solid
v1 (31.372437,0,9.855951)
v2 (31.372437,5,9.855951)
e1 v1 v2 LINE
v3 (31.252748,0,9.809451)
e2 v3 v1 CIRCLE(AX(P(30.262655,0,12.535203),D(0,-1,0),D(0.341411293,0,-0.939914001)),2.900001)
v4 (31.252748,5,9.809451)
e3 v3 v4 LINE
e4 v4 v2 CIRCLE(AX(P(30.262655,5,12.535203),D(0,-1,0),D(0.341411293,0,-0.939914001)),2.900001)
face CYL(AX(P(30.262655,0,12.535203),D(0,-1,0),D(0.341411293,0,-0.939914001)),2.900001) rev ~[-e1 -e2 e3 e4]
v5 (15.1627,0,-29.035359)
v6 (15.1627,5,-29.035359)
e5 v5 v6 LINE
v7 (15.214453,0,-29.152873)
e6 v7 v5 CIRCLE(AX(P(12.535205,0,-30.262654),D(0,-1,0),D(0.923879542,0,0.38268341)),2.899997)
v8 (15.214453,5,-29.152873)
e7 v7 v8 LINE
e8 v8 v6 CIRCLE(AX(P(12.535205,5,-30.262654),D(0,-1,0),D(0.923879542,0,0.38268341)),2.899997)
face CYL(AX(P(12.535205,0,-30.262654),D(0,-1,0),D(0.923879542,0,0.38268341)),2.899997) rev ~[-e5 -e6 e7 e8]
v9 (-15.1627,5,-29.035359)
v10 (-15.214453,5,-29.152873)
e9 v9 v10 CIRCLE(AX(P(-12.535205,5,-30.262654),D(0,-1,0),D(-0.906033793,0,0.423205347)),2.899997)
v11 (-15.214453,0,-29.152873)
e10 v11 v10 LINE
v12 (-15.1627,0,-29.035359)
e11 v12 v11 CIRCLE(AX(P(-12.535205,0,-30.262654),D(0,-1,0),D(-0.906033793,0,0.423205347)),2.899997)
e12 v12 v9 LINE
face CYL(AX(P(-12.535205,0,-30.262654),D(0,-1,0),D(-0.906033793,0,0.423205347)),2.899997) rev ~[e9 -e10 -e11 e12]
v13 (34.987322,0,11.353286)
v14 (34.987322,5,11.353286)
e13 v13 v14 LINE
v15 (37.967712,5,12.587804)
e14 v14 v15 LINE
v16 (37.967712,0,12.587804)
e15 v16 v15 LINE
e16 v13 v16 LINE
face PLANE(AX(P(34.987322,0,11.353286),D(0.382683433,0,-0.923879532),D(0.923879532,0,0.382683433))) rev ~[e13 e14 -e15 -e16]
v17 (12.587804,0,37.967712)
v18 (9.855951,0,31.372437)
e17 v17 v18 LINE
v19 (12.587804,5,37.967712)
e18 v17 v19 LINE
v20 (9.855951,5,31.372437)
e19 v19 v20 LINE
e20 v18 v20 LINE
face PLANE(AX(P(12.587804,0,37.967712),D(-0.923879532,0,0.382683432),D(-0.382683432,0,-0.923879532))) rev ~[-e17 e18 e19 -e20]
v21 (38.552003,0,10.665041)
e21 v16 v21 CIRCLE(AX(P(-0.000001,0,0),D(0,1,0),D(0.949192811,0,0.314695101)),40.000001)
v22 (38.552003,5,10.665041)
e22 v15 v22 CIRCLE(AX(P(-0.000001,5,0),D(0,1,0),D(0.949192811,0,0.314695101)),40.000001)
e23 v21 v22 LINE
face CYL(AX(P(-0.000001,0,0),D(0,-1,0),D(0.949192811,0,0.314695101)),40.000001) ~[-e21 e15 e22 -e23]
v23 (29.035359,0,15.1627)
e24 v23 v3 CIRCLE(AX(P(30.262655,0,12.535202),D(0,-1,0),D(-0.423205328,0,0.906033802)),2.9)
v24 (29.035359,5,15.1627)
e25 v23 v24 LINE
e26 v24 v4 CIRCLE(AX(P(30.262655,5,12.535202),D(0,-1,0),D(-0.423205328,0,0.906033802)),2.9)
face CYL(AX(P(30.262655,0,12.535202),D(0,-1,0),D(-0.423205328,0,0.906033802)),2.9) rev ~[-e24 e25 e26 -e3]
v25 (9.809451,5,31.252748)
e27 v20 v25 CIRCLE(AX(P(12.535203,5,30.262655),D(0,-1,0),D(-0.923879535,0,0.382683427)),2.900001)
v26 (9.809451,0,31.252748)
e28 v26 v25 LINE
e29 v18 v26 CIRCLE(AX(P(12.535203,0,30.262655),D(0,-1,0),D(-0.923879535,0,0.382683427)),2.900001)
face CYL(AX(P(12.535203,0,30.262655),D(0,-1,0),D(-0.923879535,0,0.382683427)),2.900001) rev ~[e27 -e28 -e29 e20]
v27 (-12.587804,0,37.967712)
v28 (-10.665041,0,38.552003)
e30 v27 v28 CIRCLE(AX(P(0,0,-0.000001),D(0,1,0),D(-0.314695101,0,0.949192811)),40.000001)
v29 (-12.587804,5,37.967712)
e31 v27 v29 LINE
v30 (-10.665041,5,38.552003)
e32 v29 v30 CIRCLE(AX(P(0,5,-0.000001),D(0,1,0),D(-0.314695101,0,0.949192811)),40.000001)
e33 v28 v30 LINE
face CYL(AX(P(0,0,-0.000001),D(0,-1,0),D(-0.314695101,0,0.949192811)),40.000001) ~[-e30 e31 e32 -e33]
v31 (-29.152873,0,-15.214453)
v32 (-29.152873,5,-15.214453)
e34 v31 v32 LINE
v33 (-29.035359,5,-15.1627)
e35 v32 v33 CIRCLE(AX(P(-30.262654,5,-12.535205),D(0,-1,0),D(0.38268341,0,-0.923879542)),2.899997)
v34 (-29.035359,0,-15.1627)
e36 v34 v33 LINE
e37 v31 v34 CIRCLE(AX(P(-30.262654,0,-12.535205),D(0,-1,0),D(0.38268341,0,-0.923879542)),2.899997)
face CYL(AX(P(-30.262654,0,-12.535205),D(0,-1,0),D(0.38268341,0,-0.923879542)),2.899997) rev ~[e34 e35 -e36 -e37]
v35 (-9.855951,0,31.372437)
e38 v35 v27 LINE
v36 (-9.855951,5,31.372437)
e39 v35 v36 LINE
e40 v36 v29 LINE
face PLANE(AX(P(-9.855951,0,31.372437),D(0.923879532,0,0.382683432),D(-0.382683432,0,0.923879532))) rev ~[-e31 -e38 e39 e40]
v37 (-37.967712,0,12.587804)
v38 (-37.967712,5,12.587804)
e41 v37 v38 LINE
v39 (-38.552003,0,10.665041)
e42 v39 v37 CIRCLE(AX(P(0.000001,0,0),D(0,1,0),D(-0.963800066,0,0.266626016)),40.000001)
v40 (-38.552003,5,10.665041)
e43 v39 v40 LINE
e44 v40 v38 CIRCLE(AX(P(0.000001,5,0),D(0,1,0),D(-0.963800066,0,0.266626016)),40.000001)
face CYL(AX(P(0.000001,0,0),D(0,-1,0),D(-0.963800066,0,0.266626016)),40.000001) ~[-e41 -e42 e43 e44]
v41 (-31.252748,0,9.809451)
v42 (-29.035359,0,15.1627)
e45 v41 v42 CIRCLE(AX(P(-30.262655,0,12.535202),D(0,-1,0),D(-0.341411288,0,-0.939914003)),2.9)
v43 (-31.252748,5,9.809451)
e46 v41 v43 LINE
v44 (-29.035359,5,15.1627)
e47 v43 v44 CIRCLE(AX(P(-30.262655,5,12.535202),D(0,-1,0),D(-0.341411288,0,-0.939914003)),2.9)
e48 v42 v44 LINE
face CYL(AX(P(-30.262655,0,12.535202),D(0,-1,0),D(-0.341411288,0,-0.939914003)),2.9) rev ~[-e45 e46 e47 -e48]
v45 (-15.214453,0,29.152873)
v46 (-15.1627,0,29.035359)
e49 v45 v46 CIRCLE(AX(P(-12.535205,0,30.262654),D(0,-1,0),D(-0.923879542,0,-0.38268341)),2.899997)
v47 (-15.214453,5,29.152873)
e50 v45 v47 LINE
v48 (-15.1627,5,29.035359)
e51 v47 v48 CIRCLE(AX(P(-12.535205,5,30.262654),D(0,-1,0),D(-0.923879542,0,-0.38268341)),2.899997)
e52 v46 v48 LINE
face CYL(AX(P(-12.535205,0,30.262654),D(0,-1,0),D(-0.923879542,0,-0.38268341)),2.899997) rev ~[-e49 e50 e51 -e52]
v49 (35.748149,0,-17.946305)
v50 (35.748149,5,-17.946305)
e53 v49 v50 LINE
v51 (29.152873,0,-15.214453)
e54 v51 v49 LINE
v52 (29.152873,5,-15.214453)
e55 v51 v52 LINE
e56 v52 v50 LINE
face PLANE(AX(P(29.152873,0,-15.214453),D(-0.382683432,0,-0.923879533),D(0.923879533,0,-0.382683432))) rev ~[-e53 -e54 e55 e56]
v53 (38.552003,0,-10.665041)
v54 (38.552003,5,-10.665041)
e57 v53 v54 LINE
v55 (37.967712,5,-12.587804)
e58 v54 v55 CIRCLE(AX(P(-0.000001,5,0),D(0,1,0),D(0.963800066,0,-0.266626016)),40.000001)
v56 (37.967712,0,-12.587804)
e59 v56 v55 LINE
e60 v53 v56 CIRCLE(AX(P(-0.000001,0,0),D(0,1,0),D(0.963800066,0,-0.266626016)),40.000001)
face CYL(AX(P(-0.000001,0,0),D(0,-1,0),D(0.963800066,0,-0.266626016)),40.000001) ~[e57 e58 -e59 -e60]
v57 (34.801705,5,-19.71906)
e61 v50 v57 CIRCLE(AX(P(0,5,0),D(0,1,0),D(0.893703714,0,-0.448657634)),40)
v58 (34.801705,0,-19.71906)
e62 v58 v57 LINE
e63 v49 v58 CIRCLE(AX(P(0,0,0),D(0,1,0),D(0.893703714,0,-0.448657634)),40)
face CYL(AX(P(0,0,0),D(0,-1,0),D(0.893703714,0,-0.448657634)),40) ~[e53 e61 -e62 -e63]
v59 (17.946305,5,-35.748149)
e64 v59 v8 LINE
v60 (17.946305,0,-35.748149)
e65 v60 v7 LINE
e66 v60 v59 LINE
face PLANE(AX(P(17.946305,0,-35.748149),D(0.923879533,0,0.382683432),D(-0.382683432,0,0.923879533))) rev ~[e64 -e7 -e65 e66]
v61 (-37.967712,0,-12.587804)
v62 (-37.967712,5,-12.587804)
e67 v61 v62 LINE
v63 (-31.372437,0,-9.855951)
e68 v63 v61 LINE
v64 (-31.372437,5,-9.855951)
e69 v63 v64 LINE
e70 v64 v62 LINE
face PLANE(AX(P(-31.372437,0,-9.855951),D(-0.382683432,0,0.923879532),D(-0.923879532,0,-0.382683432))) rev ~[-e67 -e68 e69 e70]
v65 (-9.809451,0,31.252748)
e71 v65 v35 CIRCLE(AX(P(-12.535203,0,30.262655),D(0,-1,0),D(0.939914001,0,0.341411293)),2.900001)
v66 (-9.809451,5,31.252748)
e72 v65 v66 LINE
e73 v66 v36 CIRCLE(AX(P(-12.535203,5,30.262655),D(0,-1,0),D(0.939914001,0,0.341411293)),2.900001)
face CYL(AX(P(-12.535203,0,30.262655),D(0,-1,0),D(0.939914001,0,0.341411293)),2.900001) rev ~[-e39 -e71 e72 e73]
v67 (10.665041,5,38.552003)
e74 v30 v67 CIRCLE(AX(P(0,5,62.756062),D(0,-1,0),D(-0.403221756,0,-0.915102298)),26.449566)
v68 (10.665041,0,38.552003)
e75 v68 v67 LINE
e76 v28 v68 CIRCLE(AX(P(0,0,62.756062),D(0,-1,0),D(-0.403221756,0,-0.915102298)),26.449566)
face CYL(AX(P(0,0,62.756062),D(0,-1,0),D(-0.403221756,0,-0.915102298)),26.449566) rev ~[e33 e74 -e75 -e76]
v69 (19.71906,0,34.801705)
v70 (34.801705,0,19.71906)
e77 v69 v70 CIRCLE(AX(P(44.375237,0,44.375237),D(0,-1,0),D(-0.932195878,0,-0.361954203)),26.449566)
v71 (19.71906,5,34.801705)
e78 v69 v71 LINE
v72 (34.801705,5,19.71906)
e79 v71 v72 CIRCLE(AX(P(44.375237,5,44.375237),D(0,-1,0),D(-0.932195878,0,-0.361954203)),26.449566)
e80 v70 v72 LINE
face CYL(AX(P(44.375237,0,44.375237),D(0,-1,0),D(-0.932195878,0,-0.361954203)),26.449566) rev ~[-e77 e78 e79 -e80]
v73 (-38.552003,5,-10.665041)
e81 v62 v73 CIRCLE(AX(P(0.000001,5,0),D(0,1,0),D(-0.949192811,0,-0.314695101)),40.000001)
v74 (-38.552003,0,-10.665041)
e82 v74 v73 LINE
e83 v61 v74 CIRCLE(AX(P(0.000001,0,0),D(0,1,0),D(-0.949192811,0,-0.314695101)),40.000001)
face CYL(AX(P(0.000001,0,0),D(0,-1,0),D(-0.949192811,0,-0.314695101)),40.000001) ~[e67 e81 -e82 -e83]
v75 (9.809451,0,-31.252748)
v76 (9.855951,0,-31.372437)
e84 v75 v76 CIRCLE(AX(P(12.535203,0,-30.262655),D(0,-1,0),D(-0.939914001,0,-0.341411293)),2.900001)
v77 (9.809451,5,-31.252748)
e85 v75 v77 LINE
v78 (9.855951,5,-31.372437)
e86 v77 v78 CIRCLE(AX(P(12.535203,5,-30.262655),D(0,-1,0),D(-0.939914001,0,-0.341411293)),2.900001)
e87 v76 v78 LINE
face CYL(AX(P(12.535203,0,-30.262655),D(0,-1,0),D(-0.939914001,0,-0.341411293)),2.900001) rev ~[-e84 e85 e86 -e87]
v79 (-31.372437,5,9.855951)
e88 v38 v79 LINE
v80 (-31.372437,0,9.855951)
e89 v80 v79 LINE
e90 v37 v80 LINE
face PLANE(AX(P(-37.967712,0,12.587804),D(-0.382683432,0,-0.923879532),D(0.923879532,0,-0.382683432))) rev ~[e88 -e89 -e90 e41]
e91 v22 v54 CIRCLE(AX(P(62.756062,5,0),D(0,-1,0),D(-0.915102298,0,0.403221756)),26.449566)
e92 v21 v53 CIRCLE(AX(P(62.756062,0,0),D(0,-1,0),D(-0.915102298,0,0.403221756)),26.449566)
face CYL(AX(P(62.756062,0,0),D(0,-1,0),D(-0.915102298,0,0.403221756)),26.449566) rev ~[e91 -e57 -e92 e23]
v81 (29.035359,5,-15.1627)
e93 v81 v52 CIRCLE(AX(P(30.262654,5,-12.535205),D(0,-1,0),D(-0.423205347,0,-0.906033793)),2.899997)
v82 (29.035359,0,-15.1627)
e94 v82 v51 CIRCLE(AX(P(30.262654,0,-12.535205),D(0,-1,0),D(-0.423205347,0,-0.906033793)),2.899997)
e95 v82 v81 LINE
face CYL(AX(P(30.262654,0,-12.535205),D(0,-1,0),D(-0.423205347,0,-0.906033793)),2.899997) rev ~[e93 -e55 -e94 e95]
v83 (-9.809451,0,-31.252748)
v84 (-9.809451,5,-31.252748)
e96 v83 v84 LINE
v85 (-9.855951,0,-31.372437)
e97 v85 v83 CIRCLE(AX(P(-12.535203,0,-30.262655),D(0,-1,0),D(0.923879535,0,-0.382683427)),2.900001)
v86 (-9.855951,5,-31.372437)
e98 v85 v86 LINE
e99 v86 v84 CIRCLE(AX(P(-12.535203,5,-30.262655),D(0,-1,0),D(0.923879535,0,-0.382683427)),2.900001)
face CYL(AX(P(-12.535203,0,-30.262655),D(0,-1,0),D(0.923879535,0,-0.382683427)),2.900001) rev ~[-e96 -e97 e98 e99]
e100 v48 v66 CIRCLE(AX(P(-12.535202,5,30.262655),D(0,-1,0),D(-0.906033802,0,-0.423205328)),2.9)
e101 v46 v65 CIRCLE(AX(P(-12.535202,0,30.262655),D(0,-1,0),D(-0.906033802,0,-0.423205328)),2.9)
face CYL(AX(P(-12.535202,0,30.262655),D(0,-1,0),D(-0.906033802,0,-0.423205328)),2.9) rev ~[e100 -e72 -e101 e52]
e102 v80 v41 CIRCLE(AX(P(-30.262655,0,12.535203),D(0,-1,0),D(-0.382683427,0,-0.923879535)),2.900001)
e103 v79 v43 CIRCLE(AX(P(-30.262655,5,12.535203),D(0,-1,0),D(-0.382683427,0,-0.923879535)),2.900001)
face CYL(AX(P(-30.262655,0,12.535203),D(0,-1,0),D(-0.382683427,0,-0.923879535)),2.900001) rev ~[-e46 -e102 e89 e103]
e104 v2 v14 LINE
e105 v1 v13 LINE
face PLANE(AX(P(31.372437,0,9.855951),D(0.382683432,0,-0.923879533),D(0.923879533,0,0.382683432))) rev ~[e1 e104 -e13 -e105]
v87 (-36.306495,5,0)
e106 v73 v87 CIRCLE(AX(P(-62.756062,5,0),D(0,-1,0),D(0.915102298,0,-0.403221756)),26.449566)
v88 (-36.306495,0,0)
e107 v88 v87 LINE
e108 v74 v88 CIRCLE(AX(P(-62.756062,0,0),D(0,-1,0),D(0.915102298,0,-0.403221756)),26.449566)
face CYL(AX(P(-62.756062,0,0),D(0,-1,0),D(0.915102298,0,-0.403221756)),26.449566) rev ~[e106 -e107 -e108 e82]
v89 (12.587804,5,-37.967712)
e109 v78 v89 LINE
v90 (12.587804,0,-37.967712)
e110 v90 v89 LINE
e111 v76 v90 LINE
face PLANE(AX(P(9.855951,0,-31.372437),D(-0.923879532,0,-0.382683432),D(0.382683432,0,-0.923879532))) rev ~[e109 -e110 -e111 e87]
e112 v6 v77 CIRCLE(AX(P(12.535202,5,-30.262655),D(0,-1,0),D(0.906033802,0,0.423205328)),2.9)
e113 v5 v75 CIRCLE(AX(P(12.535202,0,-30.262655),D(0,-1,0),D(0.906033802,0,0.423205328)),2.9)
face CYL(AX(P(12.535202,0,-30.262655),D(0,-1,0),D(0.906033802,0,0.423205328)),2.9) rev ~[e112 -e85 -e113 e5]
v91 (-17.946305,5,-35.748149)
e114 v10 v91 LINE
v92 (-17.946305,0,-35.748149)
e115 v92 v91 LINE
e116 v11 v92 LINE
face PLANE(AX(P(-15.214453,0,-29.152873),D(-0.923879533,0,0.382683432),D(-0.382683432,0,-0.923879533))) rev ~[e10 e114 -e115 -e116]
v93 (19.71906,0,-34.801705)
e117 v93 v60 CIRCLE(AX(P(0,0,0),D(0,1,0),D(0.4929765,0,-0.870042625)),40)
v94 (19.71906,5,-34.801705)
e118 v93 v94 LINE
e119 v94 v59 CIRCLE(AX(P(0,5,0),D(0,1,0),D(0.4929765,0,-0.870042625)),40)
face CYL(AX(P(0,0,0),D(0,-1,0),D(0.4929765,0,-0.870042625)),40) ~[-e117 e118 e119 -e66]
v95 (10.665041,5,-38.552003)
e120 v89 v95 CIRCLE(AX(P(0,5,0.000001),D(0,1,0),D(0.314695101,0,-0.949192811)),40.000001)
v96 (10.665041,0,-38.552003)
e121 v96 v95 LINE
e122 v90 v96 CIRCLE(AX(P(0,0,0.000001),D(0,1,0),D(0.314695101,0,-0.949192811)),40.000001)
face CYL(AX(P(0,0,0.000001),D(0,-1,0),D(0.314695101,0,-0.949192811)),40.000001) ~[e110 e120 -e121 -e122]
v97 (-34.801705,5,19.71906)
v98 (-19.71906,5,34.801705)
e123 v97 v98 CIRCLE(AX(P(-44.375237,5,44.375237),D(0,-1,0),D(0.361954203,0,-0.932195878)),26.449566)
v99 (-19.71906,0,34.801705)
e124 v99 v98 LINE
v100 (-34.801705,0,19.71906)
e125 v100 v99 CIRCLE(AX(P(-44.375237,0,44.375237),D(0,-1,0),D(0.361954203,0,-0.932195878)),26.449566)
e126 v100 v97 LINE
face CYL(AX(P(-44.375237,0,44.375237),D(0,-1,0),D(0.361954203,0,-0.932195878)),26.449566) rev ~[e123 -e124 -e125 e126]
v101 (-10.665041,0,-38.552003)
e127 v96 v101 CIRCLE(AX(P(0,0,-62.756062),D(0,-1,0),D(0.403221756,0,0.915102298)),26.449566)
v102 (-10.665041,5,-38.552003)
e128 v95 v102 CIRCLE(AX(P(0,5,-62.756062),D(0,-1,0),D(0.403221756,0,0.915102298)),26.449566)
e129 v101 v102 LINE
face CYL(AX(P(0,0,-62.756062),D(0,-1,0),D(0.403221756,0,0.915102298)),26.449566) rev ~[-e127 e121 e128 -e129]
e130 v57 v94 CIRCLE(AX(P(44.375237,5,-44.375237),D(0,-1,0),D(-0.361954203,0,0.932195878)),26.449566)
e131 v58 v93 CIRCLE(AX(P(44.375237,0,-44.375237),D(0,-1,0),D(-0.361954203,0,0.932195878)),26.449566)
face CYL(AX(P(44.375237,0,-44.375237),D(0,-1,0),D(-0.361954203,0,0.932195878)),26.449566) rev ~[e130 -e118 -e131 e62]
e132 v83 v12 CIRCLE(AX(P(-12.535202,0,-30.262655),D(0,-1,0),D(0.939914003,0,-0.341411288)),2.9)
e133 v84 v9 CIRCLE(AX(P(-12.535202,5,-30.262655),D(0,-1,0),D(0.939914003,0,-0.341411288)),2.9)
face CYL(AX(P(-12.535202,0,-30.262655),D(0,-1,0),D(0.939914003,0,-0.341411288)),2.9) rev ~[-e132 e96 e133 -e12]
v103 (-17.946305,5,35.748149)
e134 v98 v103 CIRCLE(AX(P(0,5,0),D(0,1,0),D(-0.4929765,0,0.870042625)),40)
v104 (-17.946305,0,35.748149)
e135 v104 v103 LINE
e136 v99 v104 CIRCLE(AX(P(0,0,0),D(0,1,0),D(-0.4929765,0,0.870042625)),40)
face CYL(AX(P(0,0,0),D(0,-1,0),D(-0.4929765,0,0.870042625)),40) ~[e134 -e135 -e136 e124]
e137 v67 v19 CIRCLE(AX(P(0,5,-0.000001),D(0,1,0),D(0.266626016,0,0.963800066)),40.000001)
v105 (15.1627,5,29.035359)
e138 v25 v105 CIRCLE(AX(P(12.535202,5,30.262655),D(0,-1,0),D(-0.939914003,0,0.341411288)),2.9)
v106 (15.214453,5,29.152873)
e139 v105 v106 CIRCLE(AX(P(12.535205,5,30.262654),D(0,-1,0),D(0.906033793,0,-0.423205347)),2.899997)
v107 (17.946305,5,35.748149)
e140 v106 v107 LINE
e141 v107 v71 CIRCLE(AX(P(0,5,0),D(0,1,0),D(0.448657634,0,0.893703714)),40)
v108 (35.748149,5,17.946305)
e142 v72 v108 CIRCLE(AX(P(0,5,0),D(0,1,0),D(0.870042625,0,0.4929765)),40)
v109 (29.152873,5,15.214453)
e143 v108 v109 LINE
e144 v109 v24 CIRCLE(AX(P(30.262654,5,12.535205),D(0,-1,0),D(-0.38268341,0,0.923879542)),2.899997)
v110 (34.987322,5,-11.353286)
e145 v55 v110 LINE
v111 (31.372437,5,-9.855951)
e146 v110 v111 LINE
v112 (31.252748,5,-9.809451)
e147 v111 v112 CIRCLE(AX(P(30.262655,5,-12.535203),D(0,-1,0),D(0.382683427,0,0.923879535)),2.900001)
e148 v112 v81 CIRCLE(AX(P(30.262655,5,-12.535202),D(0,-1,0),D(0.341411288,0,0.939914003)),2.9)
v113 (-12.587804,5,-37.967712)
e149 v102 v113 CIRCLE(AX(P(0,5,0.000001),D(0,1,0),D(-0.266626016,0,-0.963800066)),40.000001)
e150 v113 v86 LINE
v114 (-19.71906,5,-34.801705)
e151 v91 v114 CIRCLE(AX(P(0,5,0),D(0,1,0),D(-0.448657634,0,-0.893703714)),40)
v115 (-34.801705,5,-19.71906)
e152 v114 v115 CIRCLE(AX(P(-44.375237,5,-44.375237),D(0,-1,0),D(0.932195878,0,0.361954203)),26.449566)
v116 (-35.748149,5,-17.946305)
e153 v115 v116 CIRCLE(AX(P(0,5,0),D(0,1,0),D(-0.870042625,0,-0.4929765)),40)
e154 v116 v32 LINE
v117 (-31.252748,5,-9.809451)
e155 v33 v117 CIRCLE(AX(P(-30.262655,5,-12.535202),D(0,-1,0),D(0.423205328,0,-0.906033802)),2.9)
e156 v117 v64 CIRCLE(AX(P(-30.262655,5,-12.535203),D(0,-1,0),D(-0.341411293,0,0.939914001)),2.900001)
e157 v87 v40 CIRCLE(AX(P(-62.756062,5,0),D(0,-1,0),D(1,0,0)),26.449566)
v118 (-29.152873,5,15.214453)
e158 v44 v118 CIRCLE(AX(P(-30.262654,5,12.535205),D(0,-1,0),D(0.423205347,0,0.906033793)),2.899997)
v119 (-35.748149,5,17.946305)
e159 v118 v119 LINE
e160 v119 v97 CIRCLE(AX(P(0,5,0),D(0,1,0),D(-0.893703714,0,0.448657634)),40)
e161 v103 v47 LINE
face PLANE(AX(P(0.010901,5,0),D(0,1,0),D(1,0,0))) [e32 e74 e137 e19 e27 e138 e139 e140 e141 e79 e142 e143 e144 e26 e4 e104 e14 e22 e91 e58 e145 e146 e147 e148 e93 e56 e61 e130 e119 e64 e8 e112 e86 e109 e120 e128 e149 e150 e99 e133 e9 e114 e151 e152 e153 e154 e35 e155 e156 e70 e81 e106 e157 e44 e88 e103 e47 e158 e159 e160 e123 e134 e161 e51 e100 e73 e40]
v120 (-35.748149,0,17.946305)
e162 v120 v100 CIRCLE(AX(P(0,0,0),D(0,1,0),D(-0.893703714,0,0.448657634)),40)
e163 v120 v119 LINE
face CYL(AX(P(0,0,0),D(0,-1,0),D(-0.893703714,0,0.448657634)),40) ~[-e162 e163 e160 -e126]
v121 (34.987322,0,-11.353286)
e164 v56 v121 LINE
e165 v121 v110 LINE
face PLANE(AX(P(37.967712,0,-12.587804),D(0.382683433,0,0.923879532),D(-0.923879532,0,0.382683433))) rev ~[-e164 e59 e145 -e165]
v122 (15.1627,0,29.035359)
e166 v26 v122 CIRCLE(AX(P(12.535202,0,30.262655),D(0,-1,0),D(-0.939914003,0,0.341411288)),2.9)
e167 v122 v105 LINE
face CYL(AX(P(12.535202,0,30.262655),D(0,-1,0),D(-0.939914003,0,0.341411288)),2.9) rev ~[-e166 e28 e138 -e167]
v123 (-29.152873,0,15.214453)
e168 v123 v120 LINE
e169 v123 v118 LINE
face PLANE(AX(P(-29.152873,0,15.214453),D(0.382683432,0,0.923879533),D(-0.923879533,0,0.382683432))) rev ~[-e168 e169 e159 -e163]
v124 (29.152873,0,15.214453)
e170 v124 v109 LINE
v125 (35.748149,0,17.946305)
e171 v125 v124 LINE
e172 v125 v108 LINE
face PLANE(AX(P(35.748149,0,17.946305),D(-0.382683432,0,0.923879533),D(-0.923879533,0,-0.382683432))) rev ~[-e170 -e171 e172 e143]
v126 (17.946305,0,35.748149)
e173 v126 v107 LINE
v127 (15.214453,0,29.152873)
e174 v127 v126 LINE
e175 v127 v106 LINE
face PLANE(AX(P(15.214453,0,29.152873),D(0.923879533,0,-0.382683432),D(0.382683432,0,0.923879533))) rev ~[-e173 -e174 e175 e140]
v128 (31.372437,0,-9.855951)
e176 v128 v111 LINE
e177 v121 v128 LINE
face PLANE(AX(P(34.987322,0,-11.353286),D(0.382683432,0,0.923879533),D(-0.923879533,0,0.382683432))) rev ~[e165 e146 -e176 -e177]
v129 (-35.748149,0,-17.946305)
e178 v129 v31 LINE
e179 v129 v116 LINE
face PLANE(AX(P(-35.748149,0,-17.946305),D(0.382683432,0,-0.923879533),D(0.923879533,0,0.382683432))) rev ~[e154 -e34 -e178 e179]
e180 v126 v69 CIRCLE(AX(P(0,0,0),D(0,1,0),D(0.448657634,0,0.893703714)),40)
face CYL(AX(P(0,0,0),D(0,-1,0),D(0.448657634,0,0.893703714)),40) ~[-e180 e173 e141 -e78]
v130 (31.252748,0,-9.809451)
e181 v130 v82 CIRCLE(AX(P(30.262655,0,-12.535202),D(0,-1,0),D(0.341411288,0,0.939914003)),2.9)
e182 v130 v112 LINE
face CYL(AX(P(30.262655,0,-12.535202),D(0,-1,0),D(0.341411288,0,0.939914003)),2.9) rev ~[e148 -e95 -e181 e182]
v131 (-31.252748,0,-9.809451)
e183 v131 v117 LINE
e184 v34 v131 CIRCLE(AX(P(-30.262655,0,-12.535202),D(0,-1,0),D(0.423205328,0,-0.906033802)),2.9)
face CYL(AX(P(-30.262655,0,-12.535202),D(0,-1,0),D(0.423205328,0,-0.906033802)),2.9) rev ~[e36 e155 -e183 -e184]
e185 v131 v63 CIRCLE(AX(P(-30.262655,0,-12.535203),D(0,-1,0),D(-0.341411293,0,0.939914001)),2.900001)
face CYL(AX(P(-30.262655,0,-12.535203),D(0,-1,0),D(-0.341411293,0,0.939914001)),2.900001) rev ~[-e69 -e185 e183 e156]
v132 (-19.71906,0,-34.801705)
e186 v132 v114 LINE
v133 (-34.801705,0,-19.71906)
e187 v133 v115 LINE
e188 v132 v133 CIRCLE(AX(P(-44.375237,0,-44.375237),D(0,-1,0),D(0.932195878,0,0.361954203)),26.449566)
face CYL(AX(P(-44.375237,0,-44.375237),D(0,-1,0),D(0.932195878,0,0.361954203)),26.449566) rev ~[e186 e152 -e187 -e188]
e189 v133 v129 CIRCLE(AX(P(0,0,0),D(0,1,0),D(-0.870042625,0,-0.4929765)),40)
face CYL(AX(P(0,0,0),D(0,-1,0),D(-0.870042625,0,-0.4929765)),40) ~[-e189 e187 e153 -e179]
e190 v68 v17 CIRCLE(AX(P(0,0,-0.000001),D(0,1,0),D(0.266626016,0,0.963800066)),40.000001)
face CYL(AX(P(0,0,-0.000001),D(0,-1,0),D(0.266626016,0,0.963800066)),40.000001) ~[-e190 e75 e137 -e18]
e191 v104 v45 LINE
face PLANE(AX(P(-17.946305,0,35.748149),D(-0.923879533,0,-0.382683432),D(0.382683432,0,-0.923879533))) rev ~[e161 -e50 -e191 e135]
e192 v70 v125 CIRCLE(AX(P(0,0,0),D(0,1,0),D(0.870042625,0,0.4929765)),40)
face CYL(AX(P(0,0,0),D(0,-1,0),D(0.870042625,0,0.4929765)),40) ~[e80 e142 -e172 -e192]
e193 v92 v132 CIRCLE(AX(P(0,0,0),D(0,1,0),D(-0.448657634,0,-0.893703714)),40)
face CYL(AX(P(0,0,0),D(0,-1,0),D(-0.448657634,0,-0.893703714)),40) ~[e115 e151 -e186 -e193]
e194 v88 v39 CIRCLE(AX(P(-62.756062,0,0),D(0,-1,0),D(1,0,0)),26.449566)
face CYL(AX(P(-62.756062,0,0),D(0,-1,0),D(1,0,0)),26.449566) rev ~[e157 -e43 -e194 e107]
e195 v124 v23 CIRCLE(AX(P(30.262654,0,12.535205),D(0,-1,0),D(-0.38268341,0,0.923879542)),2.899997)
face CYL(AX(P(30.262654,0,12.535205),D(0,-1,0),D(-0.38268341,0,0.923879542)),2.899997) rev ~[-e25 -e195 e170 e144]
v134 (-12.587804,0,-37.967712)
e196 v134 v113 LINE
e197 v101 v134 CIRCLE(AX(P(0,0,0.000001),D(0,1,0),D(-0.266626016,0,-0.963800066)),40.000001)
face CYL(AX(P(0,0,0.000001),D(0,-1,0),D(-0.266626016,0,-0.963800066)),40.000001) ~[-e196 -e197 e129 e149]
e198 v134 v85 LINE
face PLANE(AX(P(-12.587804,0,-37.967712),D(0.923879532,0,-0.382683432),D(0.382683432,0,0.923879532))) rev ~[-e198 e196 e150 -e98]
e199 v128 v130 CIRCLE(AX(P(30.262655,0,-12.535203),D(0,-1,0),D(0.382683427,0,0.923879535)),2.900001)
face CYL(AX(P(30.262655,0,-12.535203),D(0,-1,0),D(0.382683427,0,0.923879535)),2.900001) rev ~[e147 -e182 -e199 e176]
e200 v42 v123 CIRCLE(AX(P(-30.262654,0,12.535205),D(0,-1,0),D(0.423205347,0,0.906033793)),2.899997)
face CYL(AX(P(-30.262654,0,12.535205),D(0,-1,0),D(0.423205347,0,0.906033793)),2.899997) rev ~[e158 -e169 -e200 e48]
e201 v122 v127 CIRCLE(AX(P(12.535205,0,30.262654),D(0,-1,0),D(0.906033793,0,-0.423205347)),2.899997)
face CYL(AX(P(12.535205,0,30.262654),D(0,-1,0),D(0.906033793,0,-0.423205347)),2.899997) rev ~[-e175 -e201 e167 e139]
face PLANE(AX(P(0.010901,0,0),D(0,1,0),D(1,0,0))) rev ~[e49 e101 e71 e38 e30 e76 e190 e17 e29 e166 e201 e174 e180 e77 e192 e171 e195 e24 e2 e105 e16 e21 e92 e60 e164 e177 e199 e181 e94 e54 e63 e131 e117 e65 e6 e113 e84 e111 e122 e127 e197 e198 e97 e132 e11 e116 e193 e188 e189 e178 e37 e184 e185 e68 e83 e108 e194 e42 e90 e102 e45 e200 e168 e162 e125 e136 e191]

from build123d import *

# Parameters (mm, degrees)
BOSS_EXTRUDE1_DEPTH = 5


with BuildPart() as part:
    # Sketch2 → Boss-Extrude1 (new body)
    with BuildSketch(Plane(origin=(0, 0, 0), x_dir=(1, 0, 0), z_dir=(0, 1, 0))):
        with BuildLine():
            ThreePointArc((31.252747625, -9.809451481), (32.378051974, -4.96198779), (32.756061614, 0))
            ThreePointArc((32.756061614, 0), (32.378051974, 4.96198779), (31.252747625, 9.809451481))
            ThreePointArc((31.252747625, 9.809451481), (27.583404246, 11.425420135), (29.035359438, 15.162700114))
            ThreePointArc((29.035359438, 15.162700114), (23.162033292, 23.162033292), (15.162700114, 29.035359438))
            ThreePointArc((15.162700114, 29.035359438), (11.425420135, 27.583404246), (9.809451481, 31.252747625))
            ThreePointArc((9.809451481, 31.252747625), (0, 32.756061614), (-9.809451481, 31.252747625))
            ThreePointArc((-9.809451481, 31.252747625), (-11.425420135, 27.583404246), (-15.162700114, 29.035359438))
            ThreePointArc((-15.162700114, 29.035359438), (-23.162033292, 23.162033292), (-29.035359438, 15.162700114))
            ThreePointArc((-29.035359438, 15.162700114), (-27.583404246, 11.425420135), (-31.252747625, 9.809451481))
            ThreePointArc((-31.252747625, 9.809451481), (-32.756061614, 0), (-31.252747625, -9.809451481))
            ThreePointArc((-31.252747625, -9.809451481), (-27.583404246, -11.425420135), (-29.035359438, -15.162700114))
            ThreePointArc((-29.035359438, -15.162700114), (-23.162033292, -23.162033292), (-15.162700114, -29.035359438))
            ThreePointArc((-15.162700114, -29.035359438), (-11.425420135, -27.583404246), (-9.809451481, -31.252747625))
            ThreePointArc((-9.809451481, -31.252747625), (0, -32.756061614), (9.809451481, -31.252747625))
            ThreePointArc((9.809451481, -31.252747625), (11.425420135, -27.583404246), (15.162700114, -29.035359438))
            ThreePointArc((15.162700114, -29.035359438), (23.162033292, -23.162033292), (29.035359438, -15.162700114))
            ThreePointArc((29.035359438, -15.162700114), (27.583404246, -11.425420135), (31.252747625, -9.809451481))
        make_face()
        with BuildLine():
            Line((9.855951445, 31.372436845), (12.587804051, 37.967712456))
            ThreePointArc((12.587804051, 37.967712456), (11.630092201, 38.271934304), (10.665040579, 38.552002665))
            ThreePointArc((10.665040579, 38.552002665), (0, 36.306495263), (-10.665040579, 38.552002665))
            ThreePointArc((-10.665040579, 38.552002665), (-11.630092201, 38.271934304), (-12.587804051, 37.967712456))
            Line((-12.587804051, 37.967712456), (-9.855951445, 31.372436845))
            ThreePointArc((-9.855951445, 31.372436845), (-9.83203894, 31.312849629), (-9.809451481, 31.252747625))
            ThreePointArc((-9.809451481, 31.252747625), (0, 32.756061614), (9.809451481, 31.252747625))
            ThreePointArc((9.809451481, 31.252747625), (9.83203894, 31.312849629), (9.855951445, 31.372436845))
        make_face()
        with BuildLine():
            ThreePointArc((-17.946305339, 35.748148549), (-18.838627214, 35.286061337), (-19.719059997, 34.801705027))
            ThreePointArc((-19.719059997, 34.801705027), (-25.672569001, 25.672569001), (-34.801705027, 19.719059997))
            ThreePointArc((-34.801705027, 19.719059997), (-35.286061337, 18.838627214), (-35.748148549, 17.946305339))
            Line((-35.748148549, 17.946305339), (-29.152872937, 15.214452733))
            ThreePointArc((-29.152872937, 15.214452733), (-29.093829718, 15.189226904), (-29.035359438, 15.162700114))
            ThreePointArc((-29.035359438, 15.162700114), (-23.162033292, 23.162033292), (-15.162700114, 29.035359438))
            ThreePointArc((-15.162700114, 29.035359438), (-15.189226904, 29.093829718), (-15.214452733, 29.152872937))
            Line((-15.214452733, 29.152872937), (-17.946305339, 35.748148549))
        make_face()
        with BuildLine():
            ThreePointArc((-37.967712456, 12.587804051), (-38.271934304, 11.630092201), (-38.552002665, 10.665040579))
            ThreePointArc((-38.552002665, 10.665040579), (-36.873959465, 5.449435614), (-36.306495263, 0))
            ThreePointArc((-36.306495263, 0), (-36.873959465, -5.449435614), (-38.552002665, -10.665040579))
            ThreePointArc((-38.552002665, -10.665040579), (-38.271934304, -11.630092201), (-37.967712456, -12.587804051))
            Line((-37.967712456, -12.587804051), (-31.372436845, -9.855951445))
            ThreePointArc((-31.372436845, -9.855951445), (-31.312849629, -9.83203894), (-31.252747625, -9.809451481))
            ThreePointArc((-31.252747625, -9.809451481), (-32.756061614, 0), (-31.252747625, 9.809451481))
            ThreePointArc((-31.252747625, 9.809451481), (-31.312849629, 9.83203894), (-31.372436845, 9.855951445))
            Line((-31.372436845, 9.855951445), (-37.967712456, 12.587804051))
        make_face()
        with BuildLine():
            ThreePointArc((-15.214452733, -29.152872937), (-15.189226904, -29.093829718), (-15.162700114, -29.035359438))
            ThreePointArc((-15.162700114, -29.035359438), (-23.162033292, -23.162033292), (-29.035359438, -15.162700114))
            ThreePointArc((-29.035359438, -15.162700114), (-29.093829718, -15.189226904), (-29.152872937, -15.214452733))
            Line((-29.152872937, -15.214452733), (-35.748148549, -17.946305339))
            ThreePointArc((-35.748148549, -17.946305339), (-35.286061337, -18.838627214), (-34.801705027, -19.719059997))
            ThreePointArc((-34.801705027, -19.719059997), (-25.672569001, -25.672569001), (-19.719059997, -34.801705027))
            ThreePointArc((-19.719059997, -34.801705027), (-18.838627214, -35.286061337), (-17.946305339, -35.748148549))
            Line((-17.946305339, -35.748148549), (-15.214452733, -29.152872937))
        make_face()
        with BuildLine():
            ThreePointArc((9.855951445, -31.372436845), (9.83203894, -31.312849629), (9.809451481, -31.252747625))
            ThreePointArc((9.809451481, -31.252747625), (0, -32.756061614), (-9.809451481, -31.252747625))
            ThreePointArc((-9.809451481, -31.252747625), (-9.83203894, -31.312849629), (-9.855951445, -31.372436845))
            Line((-9.855951445, -31.372436845), (-12.587804051, -37.967712456))
            ThreePointArc((-12.587804051, -37.967712456), (-11.630092201, -38.271934304), (-10.665040579, -38.552002665))
            ThreePointArc((-10.665040579, -38.552002665), (0, -36.306495263), (10.665040579, -38.552002665))
            ThreePointArc((10.665040579, -38.552002665), (11.630092201, -38.271934304), (12.587804051, -37.967712456))
            Line((12.587804051, -37.967712456), (9.855951445, -31.372436845))
        make_face()
        with BuildLine():
            ThreePointArc((29.152872937, -15.214452733), (29.093829718, -15.189226904), (29.035359438, -15.162700114))
            ThreePointArc((29.035359438, -15.162700114), (23.162033292, -23.162033292), (15.162700114, -29.035359438))
            ThreePointArc((15.162700114, -29.035359438), (15.189226904, -29.093829718), (15.214452733, -29.152872937))
            Line((15.214452733, -29.152872937), (17.946305339, -35.748148549))
            ThreePointArc((17.946305339, -35.748148549), (18.838627214, -35.286061337), (19.719059997, -34.801705027))
            ThreePointArc((19.719059997, -34.801705027), (25.672569001, -25.672569001), (34.801705027, -19.719059997))
            ThreePointArc((34.801705027, -19.719059997), (35.286061337, -18.838627214), (35.748148549, -17.946305339))
            Line((35.748148549, -17.946305339), (29.152872937, -15.214452733))
        make_face()
        with BuildLine():
            ThreePointArc((34.987322012, -11.353285907), (33.319161403, -5.785231712), (32.756061614, 0))
            ThreePointArc((32.756061614, 0), (32.378051974, -4.96198779), (31.252747625, -9.809451481))
            ThreePointArc((31.252747625, -9.809451481), (31.312849629, -9.83203894), (31.372436845, -9.855951445))
            Line((31.372436845, -9.855951445), (34.987322012, -11.353285907))
        make_face()
        with BuildLine():
            ThreePointArc((38.552002665, 10.665040579), (38.271934304, 11.630092201), (37.967712456, 12.587804051))
            Line((37.967712456, 12.587804051), (34.987322012, 11.353285907))
            ThreePointArc((34.987322012, 11.353285907), (33.319161403, 5.785231712), (32.756061614, 0))
            ThreePointArc((32.756061614, 0), (33.319161403, -5.785231712), (34.987322012, -11.353285907))
            Line((34.987322012, -11.353285907), (37.967712456, -12.587804051))
            ThreePointArc((37.967712456, -12.587804051), (38.271934304, -11.630092201), (38.552002665, -10.665040579))
            ThreePointArc((38.552002665, -10.665040579), (36.306495263, 0), (38.552002665, 10.665040579))
        make_face()
        with BuildLine():
            ThreePointArc((32.756061614, 0), (33.319161403, 5.785231712), (34.987322012, 11.353285907))
            Line((34.987322012, 11.353285907), (31.372436845, 9.855951445))
            ThreePointArc((31.372436845, 9.855951445), (31.312849629, 9.83203894), (31.252747625, 9.809451481))
            ThreePointArc((31.252747625, 9.809451481), (32.378051974, 4.96198779), (32.756061614, 0))
        make_face()
        with BuildLine():
            Line((29.152872937, 15.214452733), (35.748148549, 17.946305339))
            ThreePointArc((35.748148549, 17.946305339), (35.286061337, 18.838627214), (34.801705027, 19.719059997))
            ThreePointArc((34.801705027, 19.719059997), (25.672569001, 25.672569001), (19.719059997, 34.801705027))
            ThreePointArc((19.719059997, 34.801705027), (18.838627214, 35.286061337), (17.946305339, 35.748148549))
            Line((17.946305339, 35.748148549), (15.214452733, 29.152872937))
            ThreePointArc((15.214452733, 29.152872937), (15.189226904, 29.093829718), (15.162700114, 29.035359438))
            ThreePointArc((15.162700114, 29.035359438), (23.162033292, 23.162033292), (29.035359438, 15.162700114))
            ThreePointArc((29.035359438, 15.162700114), (29.093829718, 15.189226904), (29.152872937, 15.214452733))
        make_face()
    extrude(amount=BOSS_EXTRUDE1_DEPTH)


solid = part.part
